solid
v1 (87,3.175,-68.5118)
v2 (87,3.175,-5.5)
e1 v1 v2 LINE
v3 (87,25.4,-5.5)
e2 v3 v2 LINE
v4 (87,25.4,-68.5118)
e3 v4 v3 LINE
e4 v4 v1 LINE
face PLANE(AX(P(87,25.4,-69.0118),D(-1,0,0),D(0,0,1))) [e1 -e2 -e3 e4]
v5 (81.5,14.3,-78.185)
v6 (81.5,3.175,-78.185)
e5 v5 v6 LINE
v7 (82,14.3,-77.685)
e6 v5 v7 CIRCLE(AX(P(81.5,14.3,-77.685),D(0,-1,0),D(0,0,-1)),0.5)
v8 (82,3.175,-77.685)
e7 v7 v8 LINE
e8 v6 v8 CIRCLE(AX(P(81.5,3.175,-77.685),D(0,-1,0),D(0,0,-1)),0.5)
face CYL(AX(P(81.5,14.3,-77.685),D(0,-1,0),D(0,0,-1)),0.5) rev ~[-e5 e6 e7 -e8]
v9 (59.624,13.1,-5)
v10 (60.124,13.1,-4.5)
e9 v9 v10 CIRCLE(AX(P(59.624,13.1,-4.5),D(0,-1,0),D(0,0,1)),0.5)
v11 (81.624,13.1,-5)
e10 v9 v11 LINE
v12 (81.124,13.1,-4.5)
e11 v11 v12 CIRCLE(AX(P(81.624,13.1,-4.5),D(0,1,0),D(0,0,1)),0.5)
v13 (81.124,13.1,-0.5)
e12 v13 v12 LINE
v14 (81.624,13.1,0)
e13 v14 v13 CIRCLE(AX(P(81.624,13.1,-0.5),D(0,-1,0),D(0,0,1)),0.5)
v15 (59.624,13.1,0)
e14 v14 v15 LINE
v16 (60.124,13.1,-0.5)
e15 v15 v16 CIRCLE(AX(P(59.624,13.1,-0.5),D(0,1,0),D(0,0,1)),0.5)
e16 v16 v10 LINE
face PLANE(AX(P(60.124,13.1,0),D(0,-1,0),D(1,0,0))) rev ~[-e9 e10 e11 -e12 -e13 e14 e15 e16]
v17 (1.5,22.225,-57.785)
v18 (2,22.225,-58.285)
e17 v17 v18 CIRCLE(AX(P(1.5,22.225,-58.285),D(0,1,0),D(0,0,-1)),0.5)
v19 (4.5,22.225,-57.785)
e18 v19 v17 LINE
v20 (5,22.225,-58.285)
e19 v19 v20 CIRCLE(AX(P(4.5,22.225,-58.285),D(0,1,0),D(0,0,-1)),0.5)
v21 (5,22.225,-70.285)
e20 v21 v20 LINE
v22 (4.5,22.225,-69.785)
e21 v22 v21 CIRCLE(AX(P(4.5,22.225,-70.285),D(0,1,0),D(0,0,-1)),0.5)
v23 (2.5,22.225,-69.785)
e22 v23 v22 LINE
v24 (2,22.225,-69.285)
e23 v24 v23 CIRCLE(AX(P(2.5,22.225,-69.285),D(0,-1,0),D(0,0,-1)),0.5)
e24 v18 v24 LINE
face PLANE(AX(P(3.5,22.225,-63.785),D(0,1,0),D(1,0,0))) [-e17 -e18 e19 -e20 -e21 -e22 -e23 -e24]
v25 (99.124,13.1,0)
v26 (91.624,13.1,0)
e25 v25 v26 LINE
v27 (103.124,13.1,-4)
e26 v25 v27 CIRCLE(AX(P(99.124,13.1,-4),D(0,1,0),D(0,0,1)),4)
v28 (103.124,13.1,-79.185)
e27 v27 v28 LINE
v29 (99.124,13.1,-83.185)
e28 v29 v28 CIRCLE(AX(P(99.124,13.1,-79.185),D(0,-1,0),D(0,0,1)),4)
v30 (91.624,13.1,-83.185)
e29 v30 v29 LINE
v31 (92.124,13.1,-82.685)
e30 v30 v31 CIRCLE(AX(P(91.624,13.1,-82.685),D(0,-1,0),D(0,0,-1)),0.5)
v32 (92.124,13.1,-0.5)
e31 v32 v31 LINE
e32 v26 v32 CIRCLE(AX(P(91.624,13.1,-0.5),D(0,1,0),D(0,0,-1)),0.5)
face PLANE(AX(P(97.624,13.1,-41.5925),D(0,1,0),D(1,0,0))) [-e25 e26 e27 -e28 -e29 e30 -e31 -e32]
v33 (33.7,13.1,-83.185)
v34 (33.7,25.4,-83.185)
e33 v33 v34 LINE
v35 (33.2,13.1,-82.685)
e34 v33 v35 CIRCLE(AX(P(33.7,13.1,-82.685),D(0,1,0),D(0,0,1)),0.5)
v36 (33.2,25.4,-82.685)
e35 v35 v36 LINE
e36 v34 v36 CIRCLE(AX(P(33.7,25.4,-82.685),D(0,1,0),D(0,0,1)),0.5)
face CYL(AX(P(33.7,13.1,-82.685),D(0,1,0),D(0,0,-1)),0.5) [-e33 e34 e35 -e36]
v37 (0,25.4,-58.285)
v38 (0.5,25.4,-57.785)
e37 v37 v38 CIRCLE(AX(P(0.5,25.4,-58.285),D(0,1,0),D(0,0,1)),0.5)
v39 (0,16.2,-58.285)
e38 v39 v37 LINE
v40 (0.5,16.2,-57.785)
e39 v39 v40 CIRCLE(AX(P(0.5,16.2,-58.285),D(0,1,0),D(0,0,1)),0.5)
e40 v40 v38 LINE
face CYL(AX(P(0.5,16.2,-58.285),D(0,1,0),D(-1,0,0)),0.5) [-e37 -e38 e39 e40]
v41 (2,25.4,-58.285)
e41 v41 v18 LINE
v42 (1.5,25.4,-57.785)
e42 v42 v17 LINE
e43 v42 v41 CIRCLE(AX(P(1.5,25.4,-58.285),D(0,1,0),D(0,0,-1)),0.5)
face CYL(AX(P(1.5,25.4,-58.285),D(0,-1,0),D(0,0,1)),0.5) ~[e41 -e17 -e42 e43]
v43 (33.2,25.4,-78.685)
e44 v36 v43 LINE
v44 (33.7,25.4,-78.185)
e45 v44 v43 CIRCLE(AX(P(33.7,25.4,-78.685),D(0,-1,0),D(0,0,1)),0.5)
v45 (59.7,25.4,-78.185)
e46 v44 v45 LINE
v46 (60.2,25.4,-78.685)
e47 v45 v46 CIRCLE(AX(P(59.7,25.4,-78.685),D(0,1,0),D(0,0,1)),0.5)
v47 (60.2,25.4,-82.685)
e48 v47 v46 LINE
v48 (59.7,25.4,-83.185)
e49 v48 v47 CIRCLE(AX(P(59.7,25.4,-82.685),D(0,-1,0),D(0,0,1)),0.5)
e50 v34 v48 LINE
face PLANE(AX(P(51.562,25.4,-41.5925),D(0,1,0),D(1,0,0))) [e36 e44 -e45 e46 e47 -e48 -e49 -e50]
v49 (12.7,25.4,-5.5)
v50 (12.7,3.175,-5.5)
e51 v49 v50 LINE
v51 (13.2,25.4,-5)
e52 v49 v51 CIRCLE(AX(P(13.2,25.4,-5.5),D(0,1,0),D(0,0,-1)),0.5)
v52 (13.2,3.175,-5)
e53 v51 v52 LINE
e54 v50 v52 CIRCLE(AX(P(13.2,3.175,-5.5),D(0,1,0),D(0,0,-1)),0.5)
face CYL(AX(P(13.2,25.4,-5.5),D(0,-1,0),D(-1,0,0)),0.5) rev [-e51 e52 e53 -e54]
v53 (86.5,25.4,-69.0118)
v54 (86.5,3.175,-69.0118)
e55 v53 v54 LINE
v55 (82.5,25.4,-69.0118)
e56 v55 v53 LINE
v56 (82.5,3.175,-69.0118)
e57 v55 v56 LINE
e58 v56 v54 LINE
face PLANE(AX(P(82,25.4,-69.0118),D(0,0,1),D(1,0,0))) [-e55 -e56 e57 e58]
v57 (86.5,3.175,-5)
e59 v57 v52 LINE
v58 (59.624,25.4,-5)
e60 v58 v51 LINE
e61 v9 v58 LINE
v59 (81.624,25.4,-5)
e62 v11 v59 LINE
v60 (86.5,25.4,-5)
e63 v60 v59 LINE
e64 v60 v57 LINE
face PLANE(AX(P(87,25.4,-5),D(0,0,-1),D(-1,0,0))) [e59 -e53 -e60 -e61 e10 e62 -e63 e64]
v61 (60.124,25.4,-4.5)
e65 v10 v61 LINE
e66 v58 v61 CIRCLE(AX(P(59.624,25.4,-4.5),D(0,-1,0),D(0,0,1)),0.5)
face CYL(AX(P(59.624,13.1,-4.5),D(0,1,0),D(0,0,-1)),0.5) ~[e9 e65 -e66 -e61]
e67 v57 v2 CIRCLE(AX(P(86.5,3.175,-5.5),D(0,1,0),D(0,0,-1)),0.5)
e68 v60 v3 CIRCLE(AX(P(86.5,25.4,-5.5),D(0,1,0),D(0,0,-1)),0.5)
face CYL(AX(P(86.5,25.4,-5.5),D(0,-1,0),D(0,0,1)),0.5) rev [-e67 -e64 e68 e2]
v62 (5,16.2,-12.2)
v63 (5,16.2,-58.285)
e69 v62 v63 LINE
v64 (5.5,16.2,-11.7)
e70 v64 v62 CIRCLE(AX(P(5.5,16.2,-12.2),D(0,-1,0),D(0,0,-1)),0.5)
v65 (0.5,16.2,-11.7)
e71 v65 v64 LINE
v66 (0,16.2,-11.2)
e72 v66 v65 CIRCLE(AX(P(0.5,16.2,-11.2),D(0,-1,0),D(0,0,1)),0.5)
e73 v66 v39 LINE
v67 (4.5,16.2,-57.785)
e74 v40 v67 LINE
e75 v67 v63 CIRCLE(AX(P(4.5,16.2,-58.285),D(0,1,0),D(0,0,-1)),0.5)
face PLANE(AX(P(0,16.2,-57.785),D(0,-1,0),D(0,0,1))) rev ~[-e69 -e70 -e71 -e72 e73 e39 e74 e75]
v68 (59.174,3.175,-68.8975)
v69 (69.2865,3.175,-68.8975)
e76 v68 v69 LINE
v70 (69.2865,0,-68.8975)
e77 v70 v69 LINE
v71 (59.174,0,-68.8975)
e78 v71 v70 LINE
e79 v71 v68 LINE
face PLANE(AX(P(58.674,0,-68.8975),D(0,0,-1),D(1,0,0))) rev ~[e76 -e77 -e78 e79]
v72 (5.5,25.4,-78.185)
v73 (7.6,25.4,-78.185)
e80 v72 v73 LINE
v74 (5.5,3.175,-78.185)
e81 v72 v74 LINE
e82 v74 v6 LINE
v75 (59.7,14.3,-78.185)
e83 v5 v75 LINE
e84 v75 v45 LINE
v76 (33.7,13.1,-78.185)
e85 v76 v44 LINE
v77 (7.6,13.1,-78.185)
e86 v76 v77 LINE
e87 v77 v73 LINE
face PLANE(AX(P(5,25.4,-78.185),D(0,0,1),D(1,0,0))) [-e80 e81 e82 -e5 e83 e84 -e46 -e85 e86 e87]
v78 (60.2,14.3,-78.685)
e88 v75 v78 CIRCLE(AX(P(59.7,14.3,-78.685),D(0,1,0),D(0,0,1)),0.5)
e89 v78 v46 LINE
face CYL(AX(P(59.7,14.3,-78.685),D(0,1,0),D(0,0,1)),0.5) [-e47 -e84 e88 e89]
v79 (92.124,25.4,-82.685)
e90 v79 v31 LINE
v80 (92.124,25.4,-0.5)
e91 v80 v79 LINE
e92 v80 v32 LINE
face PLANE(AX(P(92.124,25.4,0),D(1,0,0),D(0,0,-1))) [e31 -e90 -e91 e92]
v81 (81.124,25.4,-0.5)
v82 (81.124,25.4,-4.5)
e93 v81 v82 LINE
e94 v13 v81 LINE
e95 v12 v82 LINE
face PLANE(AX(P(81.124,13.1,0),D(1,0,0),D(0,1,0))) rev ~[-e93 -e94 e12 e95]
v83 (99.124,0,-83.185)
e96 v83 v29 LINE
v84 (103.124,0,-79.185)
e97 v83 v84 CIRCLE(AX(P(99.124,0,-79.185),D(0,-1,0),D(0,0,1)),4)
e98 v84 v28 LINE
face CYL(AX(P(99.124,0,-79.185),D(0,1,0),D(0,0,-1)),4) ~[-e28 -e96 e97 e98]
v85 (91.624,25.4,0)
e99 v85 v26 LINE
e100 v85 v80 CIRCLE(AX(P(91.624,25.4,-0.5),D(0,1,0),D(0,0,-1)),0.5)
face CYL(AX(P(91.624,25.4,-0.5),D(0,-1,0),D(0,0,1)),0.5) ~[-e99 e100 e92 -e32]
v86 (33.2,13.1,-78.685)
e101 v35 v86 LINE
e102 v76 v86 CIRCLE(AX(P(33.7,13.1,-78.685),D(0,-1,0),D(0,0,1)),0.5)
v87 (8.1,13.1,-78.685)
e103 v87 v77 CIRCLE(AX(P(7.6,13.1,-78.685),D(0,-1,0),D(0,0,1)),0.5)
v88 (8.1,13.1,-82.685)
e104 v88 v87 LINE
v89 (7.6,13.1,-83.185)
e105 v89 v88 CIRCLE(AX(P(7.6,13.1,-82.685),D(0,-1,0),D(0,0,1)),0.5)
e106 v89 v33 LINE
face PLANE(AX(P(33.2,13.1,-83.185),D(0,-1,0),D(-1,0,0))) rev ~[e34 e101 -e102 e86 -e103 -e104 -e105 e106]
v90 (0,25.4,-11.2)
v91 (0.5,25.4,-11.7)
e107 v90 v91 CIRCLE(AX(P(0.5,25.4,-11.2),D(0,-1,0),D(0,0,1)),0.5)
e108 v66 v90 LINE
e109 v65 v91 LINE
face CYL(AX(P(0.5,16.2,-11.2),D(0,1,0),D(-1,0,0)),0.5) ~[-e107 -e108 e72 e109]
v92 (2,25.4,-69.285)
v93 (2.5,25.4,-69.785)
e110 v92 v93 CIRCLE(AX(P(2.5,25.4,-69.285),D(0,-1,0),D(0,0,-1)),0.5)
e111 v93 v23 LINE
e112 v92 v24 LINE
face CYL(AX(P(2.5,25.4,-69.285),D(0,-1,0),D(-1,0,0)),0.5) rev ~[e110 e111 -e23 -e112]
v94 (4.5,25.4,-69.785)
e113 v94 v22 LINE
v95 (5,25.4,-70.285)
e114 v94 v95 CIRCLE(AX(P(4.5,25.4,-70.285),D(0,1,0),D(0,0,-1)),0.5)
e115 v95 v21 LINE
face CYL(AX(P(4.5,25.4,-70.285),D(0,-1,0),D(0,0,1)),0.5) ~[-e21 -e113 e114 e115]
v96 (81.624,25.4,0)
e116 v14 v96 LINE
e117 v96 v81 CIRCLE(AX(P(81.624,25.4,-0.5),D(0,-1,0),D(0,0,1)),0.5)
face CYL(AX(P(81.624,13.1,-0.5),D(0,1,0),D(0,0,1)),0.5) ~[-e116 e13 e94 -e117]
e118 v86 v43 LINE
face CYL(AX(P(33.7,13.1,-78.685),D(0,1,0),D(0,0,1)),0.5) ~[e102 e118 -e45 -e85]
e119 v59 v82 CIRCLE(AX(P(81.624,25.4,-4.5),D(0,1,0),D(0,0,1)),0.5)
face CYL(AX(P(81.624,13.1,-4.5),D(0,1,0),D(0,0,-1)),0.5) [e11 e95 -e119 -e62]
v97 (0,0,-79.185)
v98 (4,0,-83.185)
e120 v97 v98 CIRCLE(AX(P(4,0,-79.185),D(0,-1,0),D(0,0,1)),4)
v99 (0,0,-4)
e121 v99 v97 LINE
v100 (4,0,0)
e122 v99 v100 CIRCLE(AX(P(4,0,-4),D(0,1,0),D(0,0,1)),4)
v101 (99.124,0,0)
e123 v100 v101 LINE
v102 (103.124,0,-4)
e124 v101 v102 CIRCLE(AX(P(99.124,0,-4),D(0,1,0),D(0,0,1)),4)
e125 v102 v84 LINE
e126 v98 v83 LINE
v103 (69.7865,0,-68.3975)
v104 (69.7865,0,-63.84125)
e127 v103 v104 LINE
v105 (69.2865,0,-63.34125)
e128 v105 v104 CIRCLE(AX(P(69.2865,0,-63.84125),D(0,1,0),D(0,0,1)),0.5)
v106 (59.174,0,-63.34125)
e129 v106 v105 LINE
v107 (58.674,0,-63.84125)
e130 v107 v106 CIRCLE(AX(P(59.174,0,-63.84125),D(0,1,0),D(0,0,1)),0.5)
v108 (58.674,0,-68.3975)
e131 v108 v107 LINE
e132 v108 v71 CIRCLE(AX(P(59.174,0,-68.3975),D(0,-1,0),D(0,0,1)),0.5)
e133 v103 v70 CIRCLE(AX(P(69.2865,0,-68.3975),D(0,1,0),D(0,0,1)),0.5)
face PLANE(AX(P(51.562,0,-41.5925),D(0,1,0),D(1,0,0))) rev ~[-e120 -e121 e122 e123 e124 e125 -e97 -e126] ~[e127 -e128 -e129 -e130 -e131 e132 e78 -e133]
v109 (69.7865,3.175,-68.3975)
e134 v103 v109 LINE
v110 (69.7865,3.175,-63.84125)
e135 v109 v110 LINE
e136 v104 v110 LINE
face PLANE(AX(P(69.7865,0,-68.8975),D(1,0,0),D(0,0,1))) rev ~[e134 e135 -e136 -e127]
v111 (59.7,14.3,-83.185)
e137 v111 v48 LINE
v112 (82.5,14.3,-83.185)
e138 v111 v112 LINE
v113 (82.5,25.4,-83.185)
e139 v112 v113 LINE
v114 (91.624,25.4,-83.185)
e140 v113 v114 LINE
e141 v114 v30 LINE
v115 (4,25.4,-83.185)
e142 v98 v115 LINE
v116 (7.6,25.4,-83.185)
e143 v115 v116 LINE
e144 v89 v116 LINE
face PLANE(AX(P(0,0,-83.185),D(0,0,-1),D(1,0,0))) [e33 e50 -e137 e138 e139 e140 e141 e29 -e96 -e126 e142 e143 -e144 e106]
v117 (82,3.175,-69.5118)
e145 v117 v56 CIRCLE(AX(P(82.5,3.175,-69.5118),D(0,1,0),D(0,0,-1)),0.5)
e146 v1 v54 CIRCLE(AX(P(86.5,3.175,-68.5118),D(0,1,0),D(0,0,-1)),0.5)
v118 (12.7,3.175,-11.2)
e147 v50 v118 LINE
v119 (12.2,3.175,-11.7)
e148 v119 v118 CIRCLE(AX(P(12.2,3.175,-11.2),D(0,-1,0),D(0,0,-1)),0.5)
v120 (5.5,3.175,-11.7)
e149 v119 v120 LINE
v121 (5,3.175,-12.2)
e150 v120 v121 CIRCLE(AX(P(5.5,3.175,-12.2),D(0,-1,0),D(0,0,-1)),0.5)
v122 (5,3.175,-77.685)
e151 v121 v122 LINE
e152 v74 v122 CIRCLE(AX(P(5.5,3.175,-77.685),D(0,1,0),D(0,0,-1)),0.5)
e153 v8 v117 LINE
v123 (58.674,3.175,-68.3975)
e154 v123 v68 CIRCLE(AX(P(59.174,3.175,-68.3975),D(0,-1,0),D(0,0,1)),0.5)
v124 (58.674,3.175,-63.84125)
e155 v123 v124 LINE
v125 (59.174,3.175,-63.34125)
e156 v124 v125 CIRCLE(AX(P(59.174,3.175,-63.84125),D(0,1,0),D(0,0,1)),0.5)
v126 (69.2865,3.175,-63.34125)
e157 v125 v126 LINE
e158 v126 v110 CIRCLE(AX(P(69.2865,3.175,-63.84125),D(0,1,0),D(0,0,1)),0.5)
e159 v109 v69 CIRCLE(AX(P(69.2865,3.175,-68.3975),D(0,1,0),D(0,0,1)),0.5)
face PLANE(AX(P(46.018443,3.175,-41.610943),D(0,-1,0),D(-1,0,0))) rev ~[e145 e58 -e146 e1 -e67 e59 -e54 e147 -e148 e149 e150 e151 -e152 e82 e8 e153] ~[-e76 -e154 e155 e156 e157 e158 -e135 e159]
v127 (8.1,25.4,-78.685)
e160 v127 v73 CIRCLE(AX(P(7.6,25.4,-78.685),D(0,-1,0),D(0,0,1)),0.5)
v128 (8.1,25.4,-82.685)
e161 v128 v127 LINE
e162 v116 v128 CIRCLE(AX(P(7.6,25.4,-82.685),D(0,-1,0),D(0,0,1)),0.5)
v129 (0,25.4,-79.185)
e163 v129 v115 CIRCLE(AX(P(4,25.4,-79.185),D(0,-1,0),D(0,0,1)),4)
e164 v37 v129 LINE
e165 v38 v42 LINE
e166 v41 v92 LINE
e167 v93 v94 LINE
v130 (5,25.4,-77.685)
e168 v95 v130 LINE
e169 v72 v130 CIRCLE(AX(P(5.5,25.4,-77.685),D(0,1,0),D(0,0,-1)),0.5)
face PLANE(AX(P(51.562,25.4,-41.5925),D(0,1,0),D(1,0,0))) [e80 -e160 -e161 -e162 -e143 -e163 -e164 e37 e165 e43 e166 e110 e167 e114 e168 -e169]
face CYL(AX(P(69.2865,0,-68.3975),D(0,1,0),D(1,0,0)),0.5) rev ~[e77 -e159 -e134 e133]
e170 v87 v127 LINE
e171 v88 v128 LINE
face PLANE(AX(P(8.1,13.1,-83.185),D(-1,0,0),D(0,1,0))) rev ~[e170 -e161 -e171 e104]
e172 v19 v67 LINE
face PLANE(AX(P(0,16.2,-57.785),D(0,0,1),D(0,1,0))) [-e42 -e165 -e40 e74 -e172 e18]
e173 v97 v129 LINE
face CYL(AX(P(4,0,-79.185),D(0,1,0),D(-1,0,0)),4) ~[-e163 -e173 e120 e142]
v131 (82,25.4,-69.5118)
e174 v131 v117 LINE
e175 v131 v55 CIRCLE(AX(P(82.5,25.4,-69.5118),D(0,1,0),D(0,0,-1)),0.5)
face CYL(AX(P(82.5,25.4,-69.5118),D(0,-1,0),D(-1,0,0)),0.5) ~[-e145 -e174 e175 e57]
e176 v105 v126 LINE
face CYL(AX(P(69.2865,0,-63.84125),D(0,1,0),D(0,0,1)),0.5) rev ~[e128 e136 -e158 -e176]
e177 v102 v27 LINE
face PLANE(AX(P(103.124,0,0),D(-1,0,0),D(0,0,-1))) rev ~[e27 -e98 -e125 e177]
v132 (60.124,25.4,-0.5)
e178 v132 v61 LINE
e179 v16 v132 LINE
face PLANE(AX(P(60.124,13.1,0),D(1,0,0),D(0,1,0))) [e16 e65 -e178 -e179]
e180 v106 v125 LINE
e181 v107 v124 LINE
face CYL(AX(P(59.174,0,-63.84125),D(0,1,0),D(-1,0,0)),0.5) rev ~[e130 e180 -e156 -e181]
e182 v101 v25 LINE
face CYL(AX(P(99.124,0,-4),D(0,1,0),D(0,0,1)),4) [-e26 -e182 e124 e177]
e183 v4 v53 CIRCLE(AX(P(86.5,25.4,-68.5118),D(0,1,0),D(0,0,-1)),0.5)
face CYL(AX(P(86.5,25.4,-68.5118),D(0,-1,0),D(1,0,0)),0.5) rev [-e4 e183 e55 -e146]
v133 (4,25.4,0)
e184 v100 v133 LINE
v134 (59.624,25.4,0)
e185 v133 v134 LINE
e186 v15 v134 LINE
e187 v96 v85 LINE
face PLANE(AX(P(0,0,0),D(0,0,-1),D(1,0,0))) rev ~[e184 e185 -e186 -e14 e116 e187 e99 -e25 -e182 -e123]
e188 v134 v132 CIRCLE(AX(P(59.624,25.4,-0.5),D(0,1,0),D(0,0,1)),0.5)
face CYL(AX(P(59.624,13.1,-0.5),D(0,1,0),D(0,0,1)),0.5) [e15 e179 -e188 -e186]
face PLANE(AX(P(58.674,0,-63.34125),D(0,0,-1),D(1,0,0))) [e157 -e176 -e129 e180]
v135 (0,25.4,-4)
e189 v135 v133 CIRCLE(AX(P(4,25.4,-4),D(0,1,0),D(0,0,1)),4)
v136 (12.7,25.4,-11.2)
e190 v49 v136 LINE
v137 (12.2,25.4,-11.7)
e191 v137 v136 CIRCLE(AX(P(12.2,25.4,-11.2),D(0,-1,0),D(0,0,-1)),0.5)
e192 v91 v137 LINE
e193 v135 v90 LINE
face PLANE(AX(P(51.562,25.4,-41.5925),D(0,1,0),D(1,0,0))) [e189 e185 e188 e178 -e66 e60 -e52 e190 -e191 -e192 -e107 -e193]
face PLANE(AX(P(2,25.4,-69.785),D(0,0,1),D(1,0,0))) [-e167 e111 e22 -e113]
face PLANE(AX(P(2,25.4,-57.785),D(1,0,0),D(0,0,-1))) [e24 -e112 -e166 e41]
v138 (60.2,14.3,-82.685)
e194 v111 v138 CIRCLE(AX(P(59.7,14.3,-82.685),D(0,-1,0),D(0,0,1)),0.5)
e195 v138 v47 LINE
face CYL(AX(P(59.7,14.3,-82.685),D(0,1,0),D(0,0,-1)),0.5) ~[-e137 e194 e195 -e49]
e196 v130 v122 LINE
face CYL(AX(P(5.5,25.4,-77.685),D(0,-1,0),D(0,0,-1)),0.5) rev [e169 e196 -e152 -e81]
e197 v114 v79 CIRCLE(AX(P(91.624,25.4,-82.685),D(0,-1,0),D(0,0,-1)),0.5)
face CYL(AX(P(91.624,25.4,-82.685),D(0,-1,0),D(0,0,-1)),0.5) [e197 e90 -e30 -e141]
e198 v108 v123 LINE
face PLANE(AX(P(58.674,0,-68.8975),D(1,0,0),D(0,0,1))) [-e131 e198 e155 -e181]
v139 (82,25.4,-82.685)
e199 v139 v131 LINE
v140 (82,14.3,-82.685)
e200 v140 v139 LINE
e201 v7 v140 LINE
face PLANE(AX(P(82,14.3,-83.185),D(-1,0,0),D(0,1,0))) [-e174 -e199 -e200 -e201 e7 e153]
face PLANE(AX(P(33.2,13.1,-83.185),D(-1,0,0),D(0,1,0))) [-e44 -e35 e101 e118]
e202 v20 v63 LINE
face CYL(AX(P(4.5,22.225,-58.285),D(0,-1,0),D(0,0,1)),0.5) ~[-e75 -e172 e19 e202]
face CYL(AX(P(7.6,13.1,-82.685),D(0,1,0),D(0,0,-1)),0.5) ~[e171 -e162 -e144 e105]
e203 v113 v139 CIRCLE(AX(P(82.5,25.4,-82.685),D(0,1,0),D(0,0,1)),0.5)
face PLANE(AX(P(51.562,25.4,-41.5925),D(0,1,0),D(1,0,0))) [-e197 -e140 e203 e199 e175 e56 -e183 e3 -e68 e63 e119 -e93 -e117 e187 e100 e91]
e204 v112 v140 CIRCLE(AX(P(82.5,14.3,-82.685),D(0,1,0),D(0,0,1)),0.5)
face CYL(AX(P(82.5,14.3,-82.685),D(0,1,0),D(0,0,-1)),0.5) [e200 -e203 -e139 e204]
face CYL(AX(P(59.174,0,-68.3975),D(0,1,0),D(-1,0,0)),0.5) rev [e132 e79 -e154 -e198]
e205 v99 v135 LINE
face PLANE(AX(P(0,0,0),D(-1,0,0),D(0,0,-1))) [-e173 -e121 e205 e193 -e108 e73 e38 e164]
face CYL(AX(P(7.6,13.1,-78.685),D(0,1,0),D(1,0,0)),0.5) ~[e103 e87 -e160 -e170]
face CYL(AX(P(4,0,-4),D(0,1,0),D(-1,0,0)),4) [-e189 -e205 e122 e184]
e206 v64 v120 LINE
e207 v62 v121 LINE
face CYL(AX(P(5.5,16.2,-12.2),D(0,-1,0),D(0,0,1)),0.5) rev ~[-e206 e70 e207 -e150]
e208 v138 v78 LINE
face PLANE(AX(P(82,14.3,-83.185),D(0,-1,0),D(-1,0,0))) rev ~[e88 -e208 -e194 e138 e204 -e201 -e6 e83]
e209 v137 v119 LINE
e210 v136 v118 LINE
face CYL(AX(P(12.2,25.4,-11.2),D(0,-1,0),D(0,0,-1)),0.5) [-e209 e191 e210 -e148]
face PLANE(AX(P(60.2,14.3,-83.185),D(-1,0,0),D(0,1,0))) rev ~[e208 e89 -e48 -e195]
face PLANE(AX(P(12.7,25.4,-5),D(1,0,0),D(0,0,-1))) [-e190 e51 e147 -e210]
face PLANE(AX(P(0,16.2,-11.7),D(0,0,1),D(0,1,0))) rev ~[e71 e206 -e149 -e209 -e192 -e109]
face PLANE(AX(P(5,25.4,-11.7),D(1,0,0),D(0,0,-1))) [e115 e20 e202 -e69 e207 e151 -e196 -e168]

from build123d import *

# Parameters (mm, degrees)
SKETCH1_W           = 103.124
SKETCH1_H           = 83.185
BOSS_EXTRUDE1_DEPTH = 25.4
CUT_EXTRUDE1_DEPTH  = 22.225
SKETCH3_W           = 11
SKETCH3_H           = 83.185
CUT_EXTRUDE2_DEPTH  = 12.3
CUT_EXTRUDE3_REACH  = 136.905
SKETCH4_W           = 21.8
SKETCH4_H           = 11.1
SKETCH4_W_2         = 25.1
SKETCH4_H_2         = 12.3
SKETCH6_W           = 46.085
SKETCH6_H           = 9.2
CUT_EXTRUDE5_DEPTH  = 5.08
SKETCH7_W           = 3
SKETCH7_H           = 12
CUT_EXTRUDE6_DEPTH  = 3.175
SKETCH8_W           = 11.1125
SKETCH8_H           = 5.55625
CUT_EXTRUDE7_DEPTH  = 5.08
FILLET1_R           = 4
CUT_EXTRUDE8_REACH  = 136.905
SKETCH9_W           = 21
SKETCH9_H           = 12.3
FILLET2_R           = 0.5


with BuildPart() as part:
    # Sketch1 → Boss-Extrude1 (new body)
    with BuildSketch(Plane(origin=(0, 0, 0), x_dir=(1, 0, 0), z_dir=(0, 1, 0))):
        with Locations((51.562, 41.5925)):
            Rectangle(SKETCH1_W, SKETCH1_H)
    extrude(amount=BOSS_EXTRUDE1_DEPTH)

    # Sketch2 → Cut-Extrude1 (cut)
    with BuildSketch(Plane(origin=(0, 25.4, 0), x_dir=(1, 0, 0), z_dir=(0, 1, 0))):
        Polygon((5, 78.185), (82, 78.185), (82, 69.0118), (87, 69.0118), (87, 5), (12.7, 5), (12.7, 11.7), (5, 11.7), align=None)
    extrude(amount=-CUT_EXTRUDE1_DEPTH, mode=Mode.SUBTRACT)

    # Sketch3 → Cut-Extrude2 (cut)
    with BuildSketch(Plane(origin=(0, 25.4, 0), x_dir=(1, 0, 0), z_dir=(0, 1, 0))):
        with Locations((97.624, 41.5925)):
            Rectangle(SKETCH3_W, SKETCH3_H)
    extrude(amount=-CUT_EXTRUDE2_DEPTH, mode=Mode.SUBTRACT)

    # Sketch4 → Cut-Extrude3 (cut, up to next)
    with BuildSketch(Plane(origin=(0, 0, -83.185), x_dir=(-1, 0, 0), z_dir=(0, 0, -1)), mode=Mode.PRIVATE) as cut_extrude3_sk1:
        with Locations((-71.1, 19.85)):
            Rectangle(SKETCH4_W, SKETCH4_H)
    cut_extrude3_tool1 = extrude(cut_extrude3_sk1.sketch, amount=-CUT_EXTRUDE3_REACH, mode=Mode.PRIVATE) & part.part
    # Sketch4 → Cut-Extrude3 (cut, up to next)
    with BuildSketch(Plane(origin=(0, 0, -83.185), x_dir=(-1, 0, 0), z_dir=(0, 0, -1)), mode=Mode.PRIVATE) as cut_extrude3_sk2:
        with Locations((-20.65, 19.25)):
            Rectangle(SKETCH4_W_2, SKETCH4_H_2)
    cut_extrude3_tool2 = extrude(cut_extrude3_sk2.sketch, amount=-CUT_EXTRUDE3_REACH, mode=Mode.PRIVATE) & part.part
    add(cut_extrude3_tool1.solids().sort_by_distance((71.1, 19.85, -83.185))[0], mode=Mode.SUBTRACT)
    add(cut_extrude3_tool2.solids().sort_by_distance((20.65, 19.25, -83.185))[0], mode=Mode.SUBTRACT)

    # Sketch6 → Cut-Extrude5 (cut)
    with BuildSketch(Plane.ZY):
        with Locations((-34.7425, 20.8)):
            Rectangle(SKETCH6_W, SKETCH6_H)
    extrude(amount=-CUT_EXTRUDE5_DEPTH, mode=Mode.SUBTRACT)

    # Sketch7 → Cut-Extrude6 (cut)
    with BuildSketch(Plane(origin=(0, 25.4, 0), x_dir=(1, 0, 0), z_dir=(0, 1, 0))):
        with Locations((3.5, 63.785)):
            Rectangle(SKETCH7_W, SKETCH7_H)
    extrude(amount=-CUT_EXTRUDE6_DEPTH, mode=Mode.SUBTRACT)

    # Sketch8 → Cut-Extrude7 (cut)
    with BuildSketch(Plane.XZ):
        with Locations((64.23025, -66.119375)):
            Rectangle(SKETCH8_W, SKETCH8_H)
    extrude(amount=-CUT_EXTRUDE7_DEPTH, mode=Mode.SUBTRACT)

    # Fillet1
    fillet1_edges = [part.edges().sort_by_distance(p)[0] for p in [
        (103.124, 6.55, -83.185),
        (103.124, 6.55, 0),
        (0, 12.7, -83.185),
        (0, 12.7, 0),
    ]]
    fillet(fillet1_edges, radius=FILLET1_R)

    # Sketch9 → Cut-Extrude8 (cut, up to next)
    with BuildSketch(Plane.XY, mode=Mode.PRIVATE) as cut_extrude8_sk1:
        with Locations((70.624, 19.25)):
            Rectangle(SKETCH9_W, SKETCH9_H)
    cut_extrude8_tool1 = extrude(cut_extrude8_sk1.sketch, amount=-CUT_EXTRUDE8_REACH, mode=Mode.PRIVATE) & part.part
    add(cut_extrude8_tool1.solids().sort_by_distance((70.624, 19.25, 0))[0], mode=Mode.SUBTRACT)

    # Fillet2
    fillet2_edges = [part.edges().sort_by_distance(p)[0] for p in [
        (5, 19.2125, -57.785),
        (5, 23.8125, -69.785),
        (2, 23.8125, -57.785),
        (2, 23.8125, -69.785),
        (58.674, 1.5875, -68.8975),
        (58.674, 1.5875, -63.34125),
        (69.7865, 1.5875, -63.34125),
        (69.7865, 1.5875, -68.8975),
        (81.124, 19.25, 0),
        (60.124, 19.25, 0),
        (81.124, 19.25, -5),
        (60.124, 19.25, -5),
        (5, 14.2875, -78.185),
        (5, 9.6875, -11.7),
        (12.7, 14.2875, -11.7),
        (12.7, 14.2875, -5),
        (87, 14.2875, -5),
        (87, 14.2875, -69.0118),
        (82, 14.2875, -69.0118),
        (82, 8.7375, -78.185),
        (92.124, 19.25, 0),
        (92.124, 19.25, -83.185),
        (60.2, 19.85, -78.185),
        (82, 19.85, -83.185),
        (60.2, 19.85, -83.185),
        (33.2, 19.25, -78.185),
        (8.1, 19.25, -78.185),
        (33.2, 19.25, -83.185),
        (8.1, 19.25, -83.185),
        (0, 20.8, -11.7),
        (0, 20.8, -57.785),
    ]]
    fillet(fillet2_edges, radius=FILLET2_R)


solid = part.part
